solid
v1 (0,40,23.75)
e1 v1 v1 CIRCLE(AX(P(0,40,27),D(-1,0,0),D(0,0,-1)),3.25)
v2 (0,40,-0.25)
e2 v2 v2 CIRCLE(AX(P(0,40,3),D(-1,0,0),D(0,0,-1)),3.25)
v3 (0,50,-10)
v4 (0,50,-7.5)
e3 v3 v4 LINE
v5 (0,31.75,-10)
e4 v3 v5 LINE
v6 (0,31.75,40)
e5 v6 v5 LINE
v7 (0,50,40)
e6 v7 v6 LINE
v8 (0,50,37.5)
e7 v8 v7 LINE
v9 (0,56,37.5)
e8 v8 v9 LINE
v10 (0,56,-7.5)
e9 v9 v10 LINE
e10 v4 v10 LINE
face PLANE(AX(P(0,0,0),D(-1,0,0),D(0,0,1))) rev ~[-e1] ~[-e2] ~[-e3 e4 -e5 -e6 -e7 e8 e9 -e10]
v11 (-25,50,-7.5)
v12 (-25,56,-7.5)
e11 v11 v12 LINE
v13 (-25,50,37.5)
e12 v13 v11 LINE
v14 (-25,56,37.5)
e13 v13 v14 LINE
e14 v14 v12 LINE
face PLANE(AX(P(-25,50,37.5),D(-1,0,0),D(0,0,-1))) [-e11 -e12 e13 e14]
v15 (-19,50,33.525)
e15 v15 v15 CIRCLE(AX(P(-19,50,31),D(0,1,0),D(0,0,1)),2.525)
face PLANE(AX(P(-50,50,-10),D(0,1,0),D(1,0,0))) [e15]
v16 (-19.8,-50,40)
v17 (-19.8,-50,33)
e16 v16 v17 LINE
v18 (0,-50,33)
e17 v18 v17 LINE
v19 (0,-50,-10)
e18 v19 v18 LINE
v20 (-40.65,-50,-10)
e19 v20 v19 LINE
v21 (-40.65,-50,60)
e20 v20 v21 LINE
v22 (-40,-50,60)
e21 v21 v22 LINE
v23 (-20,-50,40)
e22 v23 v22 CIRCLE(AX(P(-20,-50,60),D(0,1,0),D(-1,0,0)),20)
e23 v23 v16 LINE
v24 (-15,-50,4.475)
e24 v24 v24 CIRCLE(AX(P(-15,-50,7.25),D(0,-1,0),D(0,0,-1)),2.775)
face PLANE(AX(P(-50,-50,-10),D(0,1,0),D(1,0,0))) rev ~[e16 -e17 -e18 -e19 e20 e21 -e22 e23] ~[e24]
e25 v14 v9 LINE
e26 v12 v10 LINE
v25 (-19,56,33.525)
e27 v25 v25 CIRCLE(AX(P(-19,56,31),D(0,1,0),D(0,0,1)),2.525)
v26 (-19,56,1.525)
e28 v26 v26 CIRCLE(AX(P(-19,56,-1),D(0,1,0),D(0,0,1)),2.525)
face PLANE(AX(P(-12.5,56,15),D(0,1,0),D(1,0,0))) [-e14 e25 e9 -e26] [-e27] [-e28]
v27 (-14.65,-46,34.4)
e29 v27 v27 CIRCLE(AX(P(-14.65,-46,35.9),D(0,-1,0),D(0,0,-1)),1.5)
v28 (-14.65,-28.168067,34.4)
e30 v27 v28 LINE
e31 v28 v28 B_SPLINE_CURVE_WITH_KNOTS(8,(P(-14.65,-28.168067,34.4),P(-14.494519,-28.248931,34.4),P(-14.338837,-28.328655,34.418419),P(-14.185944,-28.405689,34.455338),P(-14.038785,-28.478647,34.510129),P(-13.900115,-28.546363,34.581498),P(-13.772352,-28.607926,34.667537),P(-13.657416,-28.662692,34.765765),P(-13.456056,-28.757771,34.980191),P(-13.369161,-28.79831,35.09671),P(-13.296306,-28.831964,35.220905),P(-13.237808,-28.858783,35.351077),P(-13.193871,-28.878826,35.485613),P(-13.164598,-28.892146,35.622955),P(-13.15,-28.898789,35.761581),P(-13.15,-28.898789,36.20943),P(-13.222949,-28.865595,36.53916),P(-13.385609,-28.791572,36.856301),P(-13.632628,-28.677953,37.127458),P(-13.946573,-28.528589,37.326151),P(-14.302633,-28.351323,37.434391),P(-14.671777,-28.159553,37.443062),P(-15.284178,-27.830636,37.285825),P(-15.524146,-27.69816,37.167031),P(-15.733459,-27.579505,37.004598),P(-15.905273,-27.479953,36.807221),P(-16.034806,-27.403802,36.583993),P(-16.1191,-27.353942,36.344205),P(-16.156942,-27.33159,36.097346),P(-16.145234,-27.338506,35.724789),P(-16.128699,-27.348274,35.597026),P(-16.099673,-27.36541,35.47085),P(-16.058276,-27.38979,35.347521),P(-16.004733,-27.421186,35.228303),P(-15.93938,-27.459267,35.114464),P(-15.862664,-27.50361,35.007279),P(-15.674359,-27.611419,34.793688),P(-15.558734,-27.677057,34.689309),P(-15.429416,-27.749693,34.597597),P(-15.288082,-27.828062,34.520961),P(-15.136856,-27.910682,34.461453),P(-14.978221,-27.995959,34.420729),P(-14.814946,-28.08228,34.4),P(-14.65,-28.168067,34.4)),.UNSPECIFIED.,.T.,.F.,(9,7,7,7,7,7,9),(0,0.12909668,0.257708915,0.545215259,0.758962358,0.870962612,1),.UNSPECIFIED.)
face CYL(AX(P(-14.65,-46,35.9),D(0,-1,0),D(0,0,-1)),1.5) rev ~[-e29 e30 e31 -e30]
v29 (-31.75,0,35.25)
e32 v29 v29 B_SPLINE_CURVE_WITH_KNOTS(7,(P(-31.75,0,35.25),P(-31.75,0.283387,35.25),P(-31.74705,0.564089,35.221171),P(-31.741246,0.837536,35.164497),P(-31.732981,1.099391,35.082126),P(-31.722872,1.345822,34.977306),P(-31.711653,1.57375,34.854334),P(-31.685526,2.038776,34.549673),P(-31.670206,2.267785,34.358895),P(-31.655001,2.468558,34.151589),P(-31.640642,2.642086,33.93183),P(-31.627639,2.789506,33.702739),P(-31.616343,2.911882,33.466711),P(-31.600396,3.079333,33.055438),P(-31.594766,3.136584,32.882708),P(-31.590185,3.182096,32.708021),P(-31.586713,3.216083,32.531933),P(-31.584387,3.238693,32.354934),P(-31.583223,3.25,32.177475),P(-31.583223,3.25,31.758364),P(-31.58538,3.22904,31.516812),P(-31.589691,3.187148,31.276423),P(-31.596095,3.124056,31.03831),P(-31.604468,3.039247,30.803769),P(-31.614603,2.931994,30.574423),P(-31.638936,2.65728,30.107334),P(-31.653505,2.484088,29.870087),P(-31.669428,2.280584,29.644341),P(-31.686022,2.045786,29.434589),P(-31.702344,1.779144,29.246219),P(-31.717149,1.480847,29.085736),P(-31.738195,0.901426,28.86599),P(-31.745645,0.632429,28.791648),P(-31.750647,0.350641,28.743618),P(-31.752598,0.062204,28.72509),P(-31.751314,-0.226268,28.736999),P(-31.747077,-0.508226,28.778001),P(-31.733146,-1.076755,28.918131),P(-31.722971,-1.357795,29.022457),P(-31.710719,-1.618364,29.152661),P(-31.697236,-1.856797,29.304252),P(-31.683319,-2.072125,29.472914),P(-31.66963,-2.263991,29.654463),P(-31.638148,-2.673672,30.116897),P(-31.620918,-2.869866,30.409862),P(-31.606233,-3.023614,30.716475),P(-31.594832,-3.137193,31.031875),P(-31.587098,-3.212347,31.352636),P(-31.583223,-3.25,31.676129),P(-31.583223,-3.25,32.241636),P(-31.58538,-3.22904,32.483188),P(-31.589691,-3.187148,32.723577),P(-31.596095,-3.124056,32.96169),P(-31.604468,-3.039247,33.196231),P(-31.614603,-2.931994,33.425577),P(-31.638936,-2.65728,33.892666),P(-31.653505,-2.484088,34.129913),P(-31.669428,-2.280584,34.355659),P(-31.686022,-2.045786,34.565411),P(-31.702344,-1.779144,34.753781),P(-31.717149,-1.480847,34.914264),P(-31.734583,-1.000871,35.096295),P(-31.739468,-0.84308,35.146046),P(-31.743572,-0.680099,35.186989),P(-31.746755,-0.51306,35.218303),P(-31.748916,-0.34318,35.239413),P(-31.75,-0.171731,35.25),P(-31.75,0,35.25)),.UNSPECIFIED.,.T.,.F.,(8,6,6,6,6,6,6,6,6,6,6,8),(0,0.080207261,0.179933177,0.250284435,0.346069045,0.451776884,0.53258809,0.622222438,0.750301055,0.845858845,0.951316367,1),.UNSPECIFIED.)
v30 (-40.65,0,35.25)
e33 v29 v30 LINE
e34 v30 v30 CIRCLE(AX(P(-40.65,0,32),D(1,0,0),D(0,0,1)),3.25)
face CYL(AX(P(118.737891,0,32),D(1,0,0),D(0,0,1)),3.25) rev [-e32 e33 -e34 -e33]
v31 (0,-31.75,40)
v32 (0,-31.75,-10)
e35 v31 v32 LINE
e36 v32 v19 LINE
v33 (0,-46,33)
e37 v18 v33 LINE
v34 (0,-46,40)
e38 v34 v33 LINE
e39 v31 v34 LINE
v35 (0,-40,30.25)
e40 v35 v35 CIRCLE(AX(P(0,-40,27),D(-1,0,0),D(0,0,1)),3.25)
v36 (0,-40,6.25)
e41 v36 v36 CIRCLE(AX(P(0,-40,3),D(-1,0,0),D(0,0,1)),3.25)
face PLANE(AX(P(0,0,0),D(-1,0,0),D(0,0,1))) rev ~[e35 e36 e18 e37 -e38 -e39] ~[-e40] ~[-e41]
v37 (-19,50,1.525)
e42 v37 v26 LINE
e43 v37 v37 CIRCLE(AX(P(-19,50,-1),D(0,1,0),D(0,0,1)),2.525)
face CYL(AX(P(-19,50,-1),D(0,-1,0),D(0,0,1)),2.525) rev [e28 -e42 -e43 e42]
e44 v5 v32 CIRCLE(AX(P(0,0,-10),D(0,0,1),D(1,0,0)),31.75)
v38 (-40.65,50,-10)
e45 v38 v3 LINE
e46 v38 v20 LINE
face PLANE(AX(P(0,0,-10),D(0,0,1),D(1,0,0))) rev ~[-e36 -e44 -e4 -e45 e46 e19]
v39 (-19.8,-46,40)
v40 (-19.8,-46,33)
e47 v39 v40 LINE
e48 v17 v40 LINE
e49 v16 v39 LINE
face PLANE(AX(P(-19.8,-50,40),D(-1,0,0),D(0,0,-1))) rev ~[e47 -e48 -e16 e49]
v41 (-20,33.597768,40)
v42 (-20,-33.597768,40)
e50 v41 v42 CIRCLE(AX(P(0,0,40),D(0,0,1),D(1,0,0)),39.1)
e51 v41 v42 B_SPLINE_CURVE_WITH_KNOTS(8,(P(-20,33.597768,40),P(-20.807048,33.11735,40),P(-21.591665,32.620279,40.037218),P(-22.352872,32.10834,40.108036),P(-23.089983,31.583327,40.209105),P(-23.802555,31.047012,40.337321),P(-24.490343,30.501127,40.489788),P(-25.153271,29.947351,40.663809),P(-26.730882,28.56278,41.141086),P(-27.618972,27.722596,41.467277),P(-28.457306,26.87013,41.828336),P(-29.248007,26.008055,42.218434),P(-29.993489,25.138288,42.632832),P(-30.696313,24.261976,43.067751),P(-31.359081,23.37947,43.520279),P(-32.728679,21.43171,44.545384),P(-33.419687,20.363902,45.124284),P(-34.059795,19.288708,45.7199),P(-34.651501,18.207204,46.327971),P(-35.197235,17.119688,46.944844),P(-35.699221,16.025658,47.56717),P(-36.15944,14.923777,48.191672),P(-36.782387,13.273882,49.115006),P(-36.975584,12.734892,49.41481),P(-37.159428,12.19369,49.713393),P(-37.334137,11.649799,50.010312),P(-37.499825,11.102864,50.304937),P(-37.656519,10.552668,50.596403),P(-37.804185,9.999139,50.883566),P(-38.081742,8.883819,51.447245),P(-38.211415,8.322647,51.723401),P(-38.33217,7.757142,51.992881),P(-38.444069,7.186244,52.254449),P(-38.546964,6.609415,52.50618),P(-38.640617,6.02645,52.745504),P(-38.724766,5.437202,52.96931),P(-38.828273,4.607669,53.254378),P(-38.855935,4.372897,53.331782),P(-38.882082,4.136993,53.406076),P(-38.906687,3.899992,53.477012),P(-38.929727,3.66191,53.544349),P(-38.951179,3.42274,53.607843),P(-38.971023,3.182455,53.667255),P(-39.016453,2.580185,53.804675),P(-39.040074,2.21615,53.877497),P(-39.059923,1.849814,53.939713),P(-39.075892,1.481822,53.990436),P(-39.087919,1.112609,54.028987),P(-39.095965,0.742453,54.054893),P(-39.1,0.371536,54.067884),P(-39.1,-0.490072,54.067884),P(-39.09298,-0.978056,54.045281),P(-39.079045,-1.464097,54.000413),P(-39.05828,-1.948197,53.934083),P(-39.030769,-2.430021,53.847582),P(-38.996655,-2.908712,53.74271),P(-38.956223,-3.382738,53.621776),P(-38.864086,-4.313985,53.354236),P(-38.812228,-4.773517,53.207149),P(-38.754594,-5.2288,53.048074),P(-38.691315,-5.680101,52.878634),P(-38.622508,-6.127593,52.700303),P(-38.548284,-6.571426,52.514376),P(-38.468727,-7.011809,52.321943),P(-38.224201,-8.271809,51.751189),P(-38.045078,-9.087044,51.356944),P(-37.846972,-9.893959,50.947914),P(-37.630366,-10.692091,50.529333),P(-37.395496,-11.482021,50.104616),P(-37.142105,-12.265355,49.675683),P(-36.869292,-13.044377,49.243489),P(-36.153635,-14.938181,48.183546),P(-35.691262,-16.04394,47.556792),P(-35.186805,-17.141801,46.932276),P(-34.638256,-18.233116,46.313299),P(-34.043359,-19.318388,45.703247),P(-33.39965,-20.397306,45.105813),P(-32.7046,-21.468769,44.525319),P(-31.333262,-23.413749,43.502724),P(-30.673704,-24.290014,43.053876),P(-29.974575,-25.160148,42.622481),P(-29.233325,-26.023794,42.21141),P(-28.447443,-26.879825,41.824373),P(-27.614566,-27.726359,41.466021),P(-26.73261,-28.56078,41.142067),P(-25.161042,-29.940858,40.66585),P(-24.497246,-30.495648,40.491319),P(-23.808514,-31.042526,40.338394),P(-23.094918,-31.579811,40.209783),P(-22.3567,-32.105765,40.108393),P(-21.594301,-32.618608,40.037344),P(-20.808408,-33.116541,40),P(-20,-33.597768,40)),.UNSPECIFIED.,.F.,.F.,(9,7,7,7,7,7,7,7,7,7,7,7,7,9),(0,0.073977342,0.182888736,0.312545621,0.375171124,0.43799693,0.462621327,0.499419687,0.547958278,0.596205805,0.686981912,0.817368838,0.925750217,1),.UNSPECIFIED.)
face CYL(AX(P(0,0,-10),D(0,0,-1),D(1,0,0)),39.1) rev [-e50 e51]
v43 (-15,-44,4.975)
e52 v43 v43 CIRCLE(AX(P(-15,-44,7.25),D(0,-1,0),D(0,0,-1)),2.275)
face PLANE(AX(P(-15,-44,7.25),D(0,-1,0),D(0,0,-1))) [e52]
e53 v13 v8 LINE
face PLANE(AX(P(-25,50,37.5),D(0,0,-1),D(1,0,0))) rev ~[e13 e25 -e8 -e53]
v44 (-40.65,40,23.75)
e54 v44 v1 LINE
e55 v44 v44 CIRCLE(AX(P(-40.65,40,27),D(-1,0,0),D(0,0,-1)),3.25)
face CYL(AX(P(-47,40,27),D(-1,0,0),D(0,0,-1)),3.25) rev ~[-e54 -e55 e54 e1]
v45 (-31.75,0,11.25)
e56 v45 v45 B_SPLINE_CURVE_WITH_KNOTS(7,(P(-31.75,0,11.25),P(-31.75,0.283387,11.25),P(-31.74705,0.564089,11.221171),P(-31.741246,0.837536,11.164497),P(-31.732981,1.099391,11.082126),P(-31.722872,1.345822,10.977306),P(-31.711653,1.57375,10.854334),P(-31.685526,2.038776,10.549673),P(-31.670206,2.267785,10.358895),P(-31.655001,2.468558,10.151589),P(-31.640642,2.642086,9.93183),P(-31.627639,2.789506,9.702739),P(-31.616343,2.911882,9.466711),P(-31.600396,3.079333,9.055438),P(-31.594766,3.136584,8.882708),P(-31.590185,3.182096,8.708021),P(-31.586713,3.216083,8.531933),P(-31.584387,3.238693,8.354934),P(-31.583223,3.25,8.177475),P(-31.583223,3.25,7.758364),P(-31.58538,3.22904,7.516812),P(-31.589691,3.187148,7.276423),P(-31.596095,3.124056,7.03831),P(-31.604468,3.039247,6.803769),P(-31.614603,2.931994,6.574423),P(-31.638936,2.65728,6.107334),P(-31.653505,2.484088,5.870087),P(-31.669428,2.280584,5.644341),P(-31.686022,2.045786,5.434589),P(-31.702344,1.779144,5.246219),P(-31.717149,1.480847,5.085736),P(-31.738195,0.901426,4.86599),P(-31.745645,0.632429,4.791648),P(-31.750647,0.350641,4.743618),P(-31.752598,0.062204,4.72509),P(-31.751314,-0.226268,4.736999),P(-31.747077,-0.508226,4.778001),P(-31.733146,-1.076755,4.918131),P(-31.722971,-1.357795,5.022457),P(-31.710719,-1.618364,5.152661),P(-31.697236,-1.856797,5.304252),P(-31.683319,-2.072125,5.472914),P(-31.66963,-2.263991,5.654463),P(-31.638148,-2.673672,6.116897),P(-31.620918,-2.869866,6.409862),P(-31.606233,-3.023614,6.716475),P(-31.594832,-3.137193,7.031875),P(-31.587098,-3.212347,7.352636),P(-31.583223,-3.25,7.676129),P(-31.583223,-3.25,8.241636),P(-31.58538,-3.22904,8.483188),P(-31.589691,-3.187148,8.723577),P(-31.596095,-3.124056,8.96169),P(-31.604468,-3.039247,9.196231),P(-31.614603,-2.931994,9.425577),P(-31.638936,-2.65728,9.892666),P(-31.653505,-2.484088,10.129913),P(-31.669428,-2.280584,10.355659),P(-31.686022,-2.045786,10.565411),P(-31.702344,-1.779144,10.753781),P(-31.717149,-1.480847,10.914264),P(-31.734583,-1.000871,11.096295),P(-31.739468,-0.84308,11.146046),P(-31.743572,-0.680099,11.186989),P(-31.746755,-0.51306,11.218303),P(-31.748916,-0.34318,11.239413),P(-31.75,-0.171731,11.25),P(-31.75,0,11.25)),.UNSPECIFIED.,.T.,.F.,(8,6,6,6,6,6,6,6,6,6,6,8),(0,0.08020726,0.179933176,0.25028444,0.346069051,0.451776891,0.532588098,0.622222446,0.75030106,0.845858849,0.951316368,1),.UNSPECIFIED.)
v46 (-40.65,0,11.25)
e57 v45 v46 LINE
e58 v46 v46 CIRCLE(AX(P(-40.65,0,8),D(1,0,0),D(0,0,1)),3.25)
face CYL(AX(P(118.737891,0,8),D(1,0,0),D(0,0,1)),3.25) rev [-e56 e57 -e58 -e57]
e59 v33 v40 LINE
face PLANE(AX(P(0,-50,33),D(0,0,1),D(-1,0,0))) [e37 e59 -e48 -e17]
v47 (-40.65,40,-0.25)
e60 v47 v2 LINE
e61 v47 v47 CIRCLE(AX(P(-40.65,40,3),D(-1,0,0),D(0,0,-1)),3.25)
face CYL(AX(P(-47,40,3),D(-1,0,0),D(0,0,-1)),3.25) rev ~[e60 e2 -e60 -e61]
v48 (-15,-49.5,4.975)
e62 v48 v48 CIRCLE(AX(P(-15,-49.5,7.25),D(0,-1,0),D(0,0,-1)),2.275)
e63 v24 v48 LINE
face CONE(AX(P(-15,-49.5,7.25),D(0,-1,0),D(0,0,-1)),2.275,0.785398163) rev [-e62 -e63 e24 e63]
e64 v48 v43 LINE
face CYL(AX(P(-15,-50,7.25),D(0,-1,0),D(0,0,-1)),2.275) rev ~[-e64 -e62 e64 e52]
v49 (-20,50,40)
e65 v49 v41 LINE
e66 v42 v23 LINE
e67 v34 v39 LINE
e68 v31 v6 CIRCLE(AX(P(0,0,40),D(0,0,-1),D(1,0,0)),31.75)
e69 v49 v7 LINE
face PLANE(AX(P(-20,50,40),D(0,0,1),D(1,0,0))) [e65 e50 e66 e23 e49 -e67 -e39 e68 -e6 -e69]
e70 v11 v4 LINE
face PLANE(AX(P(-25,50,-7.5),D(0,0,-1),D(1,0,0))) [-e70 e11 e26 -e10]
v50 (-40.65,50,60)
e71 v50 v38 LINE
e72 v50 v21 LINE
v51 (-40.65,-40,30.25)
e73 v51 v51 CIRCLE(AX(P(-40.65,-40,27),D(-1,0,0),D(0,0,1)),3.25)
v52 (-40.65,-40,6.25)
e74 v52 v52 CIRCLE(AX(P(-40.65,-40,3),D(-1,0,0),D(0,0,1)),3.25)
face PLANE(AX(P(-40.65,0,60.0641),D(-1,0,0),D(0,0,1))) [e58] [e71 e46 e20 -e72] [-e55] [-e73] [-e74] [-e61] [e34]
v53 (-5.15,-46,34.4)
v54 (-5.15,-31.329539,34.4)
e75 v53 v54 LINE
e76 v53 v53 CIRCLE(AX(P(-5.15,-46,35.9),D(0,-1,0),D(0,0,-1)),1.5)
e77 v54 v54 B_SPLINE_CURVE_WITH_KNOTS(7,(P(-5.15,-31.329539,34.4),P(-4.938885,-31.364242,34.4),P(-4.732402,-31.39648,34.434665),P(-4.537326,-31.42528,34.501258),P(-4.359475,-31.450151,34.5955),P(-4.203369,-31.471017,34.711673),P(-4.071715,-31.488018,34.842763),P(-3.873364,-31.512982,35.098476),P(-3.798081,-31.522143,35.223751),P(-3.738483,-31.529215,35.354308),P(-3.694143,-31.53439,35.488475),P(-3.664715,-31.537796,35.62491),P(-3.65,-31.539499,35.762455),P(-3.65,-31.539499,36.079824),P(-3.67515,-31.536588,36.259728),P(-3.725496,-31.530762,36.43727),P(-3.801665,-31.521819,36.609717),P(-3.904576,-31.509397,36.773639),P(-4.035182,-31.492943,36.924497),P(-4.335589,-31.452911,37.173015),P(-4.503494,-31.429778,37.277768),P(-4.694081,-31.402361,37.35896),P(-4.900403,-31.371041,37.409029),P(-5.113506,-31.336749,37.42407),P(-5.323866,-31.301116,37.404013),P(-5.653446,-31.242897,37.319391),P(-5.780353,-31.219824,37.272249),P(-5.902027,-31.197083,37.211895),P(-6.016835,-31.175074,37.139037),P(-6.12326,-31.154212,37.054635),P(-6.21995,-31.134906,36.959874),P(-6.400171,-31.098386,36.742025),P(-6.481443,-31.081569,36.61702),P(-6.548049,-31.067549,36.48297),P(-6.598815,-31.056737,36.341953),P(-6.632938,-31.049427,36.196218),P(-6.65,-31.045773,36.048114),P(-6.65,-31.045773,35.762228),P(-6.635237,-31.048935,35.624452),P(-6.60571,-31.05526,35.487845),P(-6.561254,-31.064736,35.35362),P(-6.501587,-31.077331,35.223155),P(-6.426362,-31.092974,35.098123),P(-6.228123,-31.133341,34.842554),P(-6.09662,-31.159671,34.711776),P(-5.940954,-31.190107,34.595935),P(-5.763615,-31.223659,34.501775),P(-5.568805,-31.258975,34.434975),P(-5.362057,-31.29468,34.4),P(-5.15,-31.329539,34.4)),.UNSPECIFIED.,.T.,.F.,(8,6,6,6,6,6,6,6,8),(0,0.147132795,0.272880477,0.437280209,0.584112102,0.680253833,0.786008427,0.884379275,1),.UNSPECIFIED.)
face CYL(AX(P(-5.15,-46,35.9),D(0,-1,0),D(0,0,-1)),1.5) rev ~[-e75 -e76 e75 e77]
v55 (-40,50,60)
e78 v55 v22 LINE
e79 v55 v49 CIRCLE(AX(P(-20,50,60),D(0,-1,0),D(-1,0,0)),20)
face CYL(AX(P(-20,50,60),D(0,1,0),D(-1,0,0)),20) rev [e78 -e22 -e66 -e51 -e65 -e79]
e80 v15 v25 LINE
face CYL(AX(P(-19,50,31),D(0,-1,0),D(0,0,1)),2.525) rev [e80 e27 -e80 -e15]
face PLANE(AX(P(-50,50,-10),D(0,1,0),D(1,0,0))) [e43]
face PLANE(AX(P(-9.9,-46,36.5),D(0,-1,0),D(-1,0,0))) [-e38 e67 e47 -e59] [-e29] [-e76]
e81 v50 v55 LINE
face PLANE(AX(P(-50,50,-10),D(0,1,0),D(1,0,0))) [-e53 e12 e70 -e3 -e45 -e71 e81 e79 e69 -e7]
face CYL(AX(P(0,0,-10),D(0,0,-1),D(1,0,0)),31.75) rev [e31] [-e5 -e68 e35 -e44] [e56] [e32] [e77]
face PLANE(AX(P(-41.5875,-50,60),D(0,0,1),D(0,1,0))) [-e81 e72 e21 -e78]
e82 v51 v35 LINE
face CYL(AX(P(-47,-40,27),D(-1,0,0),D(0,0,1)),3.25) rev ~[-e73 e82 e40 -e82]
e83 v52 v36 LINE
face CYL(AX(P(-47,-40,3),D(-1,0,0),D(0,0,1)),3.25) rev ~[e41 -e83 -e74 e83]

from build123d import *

# Parameters (mm, degrees)
CENTRE_HOLE_FOR_L2_DEPTH      = 40
CENTRE_HOLE_FOR_L2_DEPTH_BACK = 10
SKETCH1_R                     = 39.1
SKETCH1_R_2                   = 31.75
MAIN_STRUCTURE_DEPTH          = 60
MAIN_STRUCTURE_DEPTH_BACK     = 50
SKETCH2_W                     = 100
SKETCH2_H                     = 100
SKETCH2_R                     = 39.1
BEARING_CURVE_DEPTH           = 10
SKETCH6_R                     = 10.5
SHAFT_HOLE_DEPTH              = 10
WRIST_CUTOUT_DEPTH            = 188.082869339
SKETCH11_W                    = 25
SKETCH11_H                    = 45
SKETCH11_R                    = 2.525
BOSS_EXTRUDE1_DEPTH           = 6
SKETCH15_W                    = 19.8
SKETCH15_H                    = 7
CUT_EXTRUDE4_DEPTH            = 4
CUT_EXTRUDE5_REACH            = 190.16
CUT_EXTRUDE5_END_RADIUS       = 31.75
SKETCH16_R                    = 1.5
CUT_EXTRUDE6_DEPTH            = 168.7378908
CUT_EXTRUDE6_DEPTH_BACK       = 168.7378908
SKETCH18_R                    = 3.25
CUT_EXTRUDE7_START            = -1.5875
CUT_EXTRUDE7_DEPTH            = 1.5875
SKETCH9_R                     = 12.05
BEARING_DEPTH                 = 5
CUT_EXTRUDE8_DEPTH            = 3
SKETCH21_R                    = 3.25
SKETCH21_R_2                  = 1.65
CUT_EXTRUDE9_DEPTH            = 167.868211501
CUT_EXTRUDE10_DEPTH           = 6.35
SKETCH23_R                    = 2.275
CUT_EXTRUDE11_DEPTH           = 6
CHAMFER1_SIZE                 = 0.5


with BuildPart() as part:
    # Sketch1 → Centre Hole for L2 (new, two sides: drawn at the far end of the back side and taken through both)
    with BuildSketch(Plane.XY.offset(-CENTRE_HOLE_FOR_L2_DEPTH_BACK)):
        Circle(SKETCH1_R)
        Circle(SKETCH1_R_2, mode=Mode.SUBTRACT)
    extrude(amount=CENTRE_HOLE_FOR_L2_DEPTH + CENTRE_HOLE_FOR_L2_DEPTH_BACK)

    # Sketch2 → Main Structure (add, two sides: drawn at the far end of the back side and taken through both)
    with BuildSketch(Plane.XY.offset(40).offset(-MAIN_STRUCTURE_DEPTH_BACK)):
        Rectangle(SKETCH2_W, SKETCH2_H)
        Circle(SKETCH2_R, mode=Mode.SUBTRACT)
    extrude(amount=MAIN_STRUCTURE_DEPTH + MAIN_STRUCTURE_DEPTH_BACK)

    # Sketch3 → Bearing Curve (add)
    with BuildSketch(Plane.ZY.offset(50)):
        with BuildLine():
            Line((100, 50), (100, -50))
            ThreePointArc((100, -50), (150, 0), (100, 50))
        make_face()
    bearing_curve = extrude(amount=-BEARING_CURVE_DEPTH)

    # Upright Mirror: Bearing Curve across plane
    add(bearing_curve.mirror(Plane(origin=(0, 0, 0), x_dir=(0, 0, 1), z_dir=(1, 0, 0))))

    # Sketch6 → Shaft Hole (cut)
    with BuildSketch(Plane.ZY.offset(50)):
        with Locations((100, 0)):
            Circle(SKETCH6_R)
    extrude(amount=-SHAFT_HOLE_DEPTH, mode=Mode.SUBTRACT)

    # Sketch4 → Wrist Cutout (cut, through all)
    with BuildSketch(Plane(origin=(0, 50, 0), x_dir=(1, 0, 0), z_dir=(0, 1, 0))):
        with BuildLine():
            Line((-40, -100), (-40, -60))
            ThreePointArc((-40, -60), (-34.142135624, -45.857864376), (-20, -40))
            Line((-20, -40), (20, -40))
            ThreePointArc((20, -40), (34.142135624, -45.857864376), (40, -60))
            Line((40, -60), (40, -100))
            Line((40, -100), (-40, -100))
        make_face()
    extrude(amount=-WRIST_CUTOUT_DEPTH, mode=Mode.SUBTRACT)

    # SurfaceCut1
    split(bisect_by=Plane.ZY, keep=Keep.TOP)

    # Sketch11 → Boss-Extrude1 (add)
    with BuildSketch(Plane(origin=(0, 50, 0), x_dir=(1, 0, 0), z_dir=(0, 1, 0))):
        with Locations((-12.5, -15)):
            Rectangle(SKETCH11_W, SKETCH11_H)
        with Locations(Location((-19, 1, 0), (0, 0, 270))):
            Circle(SKETCH11_R, mode=Mode.SUBTRACT)
        with Locations(Location((-19, -31, 0), (0, 0, 270))):
            Circle(SKETCH11_R, mode=Mode.SUBTRACT)
    extrude(amount=BOSS_EXTRUDE1_DEPTH)

    # Sketch15 → Cut-Extrude4 (cut)
    with BuildSketch(Plane(origin=(0, -50, 0), x_dir=(-1, 0, 0), z_dir=(0, -1, 0))):
        with Locations((9.9, -36.5)):
            Rectangle(SKETCH15_W, SKETCH15_H)
    extrude(amount=-CUT_EXTRUDE4_DEPTH, mode=Mode.SUBTRACT)

    # Cut-Extrude5: up to this cylinder (the profile starts outside it)
    cut_extrude5_end = Plane(origin=(0, 0, 35.9), z_dir=(0, 0, 1)) * Cylinder(CUT_EXTRUDE5_END_RADIUS, 444.82, mode=Mode.PRIVATE)
    # Sketch16 → Cut-Extrude5 (cut, up to the surface)
    with BuildSketch(Plane(origin=(0, -46, 0), x_dir=(-1, 0, 0), z_dir=(0, -1, 0)), mode=Mode.PRIVATE) as cut_extrude5_sk1:
        with Locations(Location((14.65, -35.9, 0), (0, 0, 90))):
            Circle(SKETCH16_R)
    cut_extrude5_tool1 = extrude(cut_extrude5_sk1.sketch, amount=-CUT_EXTRUDE5_REACH, mode=Mode.PRIVATE) - cut_extrude5_end
    add(cut_extrude5_tool1.solids().sort_by_distance((-14.65, -46, 35.9))[0], mode=Mode.SUBTRACT)
    # Sketch16 → Cut-Extrude5 (cut, up to the surface)
    with BuildSketch(Plane(origin=(0, -46, 0), x_dir=(-1, 0, 0), z_dir=(0, -1, 0)), mode=Mode.PRIVATE) as cut_extrude5_sk2:
        with Locations(Location((5.15, -35.9, 0), (0, 0, 90))):
            Circle(SKETCH16_R)
    cut_extrude5_tool2 = extrude(cut_extrude5_sk2.sketch, amount=-CUT_EXTRUDE5_REACH, mode=Mode.PRIVATE) - cut_extrude5_end
    add(cut_extrude5_tool2.solids().sort_by_distance((-5.15, -46, 35.9))[0], mode=Mode.SUBTRACT)

    # Sketch18 → Cut-Extrude6 (cut, two sides: drawn at the far end of the back side and taken through both)
    with BuildSketch(Plane.ZY.offset(50).offset(-CUT_EXTRUDE6_DEPTH_BACK)):
        with Locations((8, 0)):
            Circle(SKETCH18_R)
        with Locations((32, 0)):
            Circle(SKETCH18_R)
    extrude(amount=CUT_EXTRUDE6_DEPTH + CUT_EXTRUDE6_DEPTH_BACK, mode=Mode.SUBTRACT)

    # Sketch19 → Cut-Extrude7 (cut)
    with BuildSketch(Plane(origin=(-40, 0, 0), x_dir=(0, 0, -1), z_dir=(1, 0, 0)).offset(CUT_EXTRUDE7_START)):
        with BuildLine():
            Line((-60, 50), (-100, 50))
            ThreePointArc((-100, 50), (-150, 0), (-100, -50))
            Line((-100, -50), (-60, -50))
            Line((-60, -50), (-60, 50))
        make_face()
    extrude(amount=CUT_EXTRUDE7_DEPTH, mode=Mode.SUBTRACT)

    # Sketch9 → Bearing (cut)
    with BuildSketch(Plane(origin=(-41.5875, 0, 0), x_dir=(0, 0, -1), z_dir=(1, 0, 0))):
        with Locations((-100, 0)):
            Circle(SKETCH9_R)
    extrude(amount=-BEARING_DEPTH, mode=Mode.SUBTRACT)

    # Sketch20 → Cut-Extrude8 (cut)
    with BuildSketch(Plane.ZY.offset(50)):
        with BuildLine():
            Line((-10, -50), (100, -50))
            ThreePointArc((100, -50), (150, 0), (100, 50))
            Line((100, 50), (-10, 50))
            Line((-10, 50), (-10, -50))
        make_face()
    extrude(amount=-CUT_EXTRUDE8_DEPTH, mode=Mode.SUBTRACT)

    # Sketch21 → Cut-Extrude9 (cut, through all)
    with BuildSketch(Plane.ZY.offset(47)):
        with Locations((3, -40)):
            Circle(SKETCH21_R)
        with Locations((27, -40)):
            Circle(SKETCH21_R)
        with Locations(Location((27, 40, 0), (0, 0, 180))):
            Circle(SKETCH21_R)
        with Locations(Location((3, 40, 0), (0, 0, 180))):
            Circle(SKETCH21_R)
        with Locations((125, 0)):
            Circle(SKETCH21_R_2)
    extrude(amount=-CUT_EXTRUDE9_DEPTH, mode=Mode.SUBTRACT)

    # Sketch22 → Cut-Extrude10 (cut)
    with BuildSketch(Plane.ZY.offset(47)):
        with BuildLine():
            Line((-10, 50), (-10, -50))
            Line((-10, -50), (100, -50))
            ThreePointArc((100, -50), (150, 0), (100, 50))
            Line((100, 50), (-10, 50))
        make_face()
    extrude(amount=-CUT_EXTRUDE10_DEPTH, mode=Mode.SUBTRACT)

    # Sketch23 → Cut-Extrude11 (cut)
    with BuildSketch(Plane(origin=(0, -50, 0), x_dir=(-1, 0, 0), z_dir=(0, -1, 0))):
        with Locations(Location((15, -7.25, 0), (0, 0, 90))):
            Circle(SKETCH23_R)
    extrude(amount=-CUT_EXTRUDE11_DEPTH, mode=Mode.SUBTRACT)

    # Chamfer1
    chamfer1_edges = [part.edges().sort_by_distance(p)[0] for p in [
        (-15, -50, 9.525),
    ]]
    chamfer(chamfer1_edges, length=CHAMFER1_SIZE)


solid = part.part
